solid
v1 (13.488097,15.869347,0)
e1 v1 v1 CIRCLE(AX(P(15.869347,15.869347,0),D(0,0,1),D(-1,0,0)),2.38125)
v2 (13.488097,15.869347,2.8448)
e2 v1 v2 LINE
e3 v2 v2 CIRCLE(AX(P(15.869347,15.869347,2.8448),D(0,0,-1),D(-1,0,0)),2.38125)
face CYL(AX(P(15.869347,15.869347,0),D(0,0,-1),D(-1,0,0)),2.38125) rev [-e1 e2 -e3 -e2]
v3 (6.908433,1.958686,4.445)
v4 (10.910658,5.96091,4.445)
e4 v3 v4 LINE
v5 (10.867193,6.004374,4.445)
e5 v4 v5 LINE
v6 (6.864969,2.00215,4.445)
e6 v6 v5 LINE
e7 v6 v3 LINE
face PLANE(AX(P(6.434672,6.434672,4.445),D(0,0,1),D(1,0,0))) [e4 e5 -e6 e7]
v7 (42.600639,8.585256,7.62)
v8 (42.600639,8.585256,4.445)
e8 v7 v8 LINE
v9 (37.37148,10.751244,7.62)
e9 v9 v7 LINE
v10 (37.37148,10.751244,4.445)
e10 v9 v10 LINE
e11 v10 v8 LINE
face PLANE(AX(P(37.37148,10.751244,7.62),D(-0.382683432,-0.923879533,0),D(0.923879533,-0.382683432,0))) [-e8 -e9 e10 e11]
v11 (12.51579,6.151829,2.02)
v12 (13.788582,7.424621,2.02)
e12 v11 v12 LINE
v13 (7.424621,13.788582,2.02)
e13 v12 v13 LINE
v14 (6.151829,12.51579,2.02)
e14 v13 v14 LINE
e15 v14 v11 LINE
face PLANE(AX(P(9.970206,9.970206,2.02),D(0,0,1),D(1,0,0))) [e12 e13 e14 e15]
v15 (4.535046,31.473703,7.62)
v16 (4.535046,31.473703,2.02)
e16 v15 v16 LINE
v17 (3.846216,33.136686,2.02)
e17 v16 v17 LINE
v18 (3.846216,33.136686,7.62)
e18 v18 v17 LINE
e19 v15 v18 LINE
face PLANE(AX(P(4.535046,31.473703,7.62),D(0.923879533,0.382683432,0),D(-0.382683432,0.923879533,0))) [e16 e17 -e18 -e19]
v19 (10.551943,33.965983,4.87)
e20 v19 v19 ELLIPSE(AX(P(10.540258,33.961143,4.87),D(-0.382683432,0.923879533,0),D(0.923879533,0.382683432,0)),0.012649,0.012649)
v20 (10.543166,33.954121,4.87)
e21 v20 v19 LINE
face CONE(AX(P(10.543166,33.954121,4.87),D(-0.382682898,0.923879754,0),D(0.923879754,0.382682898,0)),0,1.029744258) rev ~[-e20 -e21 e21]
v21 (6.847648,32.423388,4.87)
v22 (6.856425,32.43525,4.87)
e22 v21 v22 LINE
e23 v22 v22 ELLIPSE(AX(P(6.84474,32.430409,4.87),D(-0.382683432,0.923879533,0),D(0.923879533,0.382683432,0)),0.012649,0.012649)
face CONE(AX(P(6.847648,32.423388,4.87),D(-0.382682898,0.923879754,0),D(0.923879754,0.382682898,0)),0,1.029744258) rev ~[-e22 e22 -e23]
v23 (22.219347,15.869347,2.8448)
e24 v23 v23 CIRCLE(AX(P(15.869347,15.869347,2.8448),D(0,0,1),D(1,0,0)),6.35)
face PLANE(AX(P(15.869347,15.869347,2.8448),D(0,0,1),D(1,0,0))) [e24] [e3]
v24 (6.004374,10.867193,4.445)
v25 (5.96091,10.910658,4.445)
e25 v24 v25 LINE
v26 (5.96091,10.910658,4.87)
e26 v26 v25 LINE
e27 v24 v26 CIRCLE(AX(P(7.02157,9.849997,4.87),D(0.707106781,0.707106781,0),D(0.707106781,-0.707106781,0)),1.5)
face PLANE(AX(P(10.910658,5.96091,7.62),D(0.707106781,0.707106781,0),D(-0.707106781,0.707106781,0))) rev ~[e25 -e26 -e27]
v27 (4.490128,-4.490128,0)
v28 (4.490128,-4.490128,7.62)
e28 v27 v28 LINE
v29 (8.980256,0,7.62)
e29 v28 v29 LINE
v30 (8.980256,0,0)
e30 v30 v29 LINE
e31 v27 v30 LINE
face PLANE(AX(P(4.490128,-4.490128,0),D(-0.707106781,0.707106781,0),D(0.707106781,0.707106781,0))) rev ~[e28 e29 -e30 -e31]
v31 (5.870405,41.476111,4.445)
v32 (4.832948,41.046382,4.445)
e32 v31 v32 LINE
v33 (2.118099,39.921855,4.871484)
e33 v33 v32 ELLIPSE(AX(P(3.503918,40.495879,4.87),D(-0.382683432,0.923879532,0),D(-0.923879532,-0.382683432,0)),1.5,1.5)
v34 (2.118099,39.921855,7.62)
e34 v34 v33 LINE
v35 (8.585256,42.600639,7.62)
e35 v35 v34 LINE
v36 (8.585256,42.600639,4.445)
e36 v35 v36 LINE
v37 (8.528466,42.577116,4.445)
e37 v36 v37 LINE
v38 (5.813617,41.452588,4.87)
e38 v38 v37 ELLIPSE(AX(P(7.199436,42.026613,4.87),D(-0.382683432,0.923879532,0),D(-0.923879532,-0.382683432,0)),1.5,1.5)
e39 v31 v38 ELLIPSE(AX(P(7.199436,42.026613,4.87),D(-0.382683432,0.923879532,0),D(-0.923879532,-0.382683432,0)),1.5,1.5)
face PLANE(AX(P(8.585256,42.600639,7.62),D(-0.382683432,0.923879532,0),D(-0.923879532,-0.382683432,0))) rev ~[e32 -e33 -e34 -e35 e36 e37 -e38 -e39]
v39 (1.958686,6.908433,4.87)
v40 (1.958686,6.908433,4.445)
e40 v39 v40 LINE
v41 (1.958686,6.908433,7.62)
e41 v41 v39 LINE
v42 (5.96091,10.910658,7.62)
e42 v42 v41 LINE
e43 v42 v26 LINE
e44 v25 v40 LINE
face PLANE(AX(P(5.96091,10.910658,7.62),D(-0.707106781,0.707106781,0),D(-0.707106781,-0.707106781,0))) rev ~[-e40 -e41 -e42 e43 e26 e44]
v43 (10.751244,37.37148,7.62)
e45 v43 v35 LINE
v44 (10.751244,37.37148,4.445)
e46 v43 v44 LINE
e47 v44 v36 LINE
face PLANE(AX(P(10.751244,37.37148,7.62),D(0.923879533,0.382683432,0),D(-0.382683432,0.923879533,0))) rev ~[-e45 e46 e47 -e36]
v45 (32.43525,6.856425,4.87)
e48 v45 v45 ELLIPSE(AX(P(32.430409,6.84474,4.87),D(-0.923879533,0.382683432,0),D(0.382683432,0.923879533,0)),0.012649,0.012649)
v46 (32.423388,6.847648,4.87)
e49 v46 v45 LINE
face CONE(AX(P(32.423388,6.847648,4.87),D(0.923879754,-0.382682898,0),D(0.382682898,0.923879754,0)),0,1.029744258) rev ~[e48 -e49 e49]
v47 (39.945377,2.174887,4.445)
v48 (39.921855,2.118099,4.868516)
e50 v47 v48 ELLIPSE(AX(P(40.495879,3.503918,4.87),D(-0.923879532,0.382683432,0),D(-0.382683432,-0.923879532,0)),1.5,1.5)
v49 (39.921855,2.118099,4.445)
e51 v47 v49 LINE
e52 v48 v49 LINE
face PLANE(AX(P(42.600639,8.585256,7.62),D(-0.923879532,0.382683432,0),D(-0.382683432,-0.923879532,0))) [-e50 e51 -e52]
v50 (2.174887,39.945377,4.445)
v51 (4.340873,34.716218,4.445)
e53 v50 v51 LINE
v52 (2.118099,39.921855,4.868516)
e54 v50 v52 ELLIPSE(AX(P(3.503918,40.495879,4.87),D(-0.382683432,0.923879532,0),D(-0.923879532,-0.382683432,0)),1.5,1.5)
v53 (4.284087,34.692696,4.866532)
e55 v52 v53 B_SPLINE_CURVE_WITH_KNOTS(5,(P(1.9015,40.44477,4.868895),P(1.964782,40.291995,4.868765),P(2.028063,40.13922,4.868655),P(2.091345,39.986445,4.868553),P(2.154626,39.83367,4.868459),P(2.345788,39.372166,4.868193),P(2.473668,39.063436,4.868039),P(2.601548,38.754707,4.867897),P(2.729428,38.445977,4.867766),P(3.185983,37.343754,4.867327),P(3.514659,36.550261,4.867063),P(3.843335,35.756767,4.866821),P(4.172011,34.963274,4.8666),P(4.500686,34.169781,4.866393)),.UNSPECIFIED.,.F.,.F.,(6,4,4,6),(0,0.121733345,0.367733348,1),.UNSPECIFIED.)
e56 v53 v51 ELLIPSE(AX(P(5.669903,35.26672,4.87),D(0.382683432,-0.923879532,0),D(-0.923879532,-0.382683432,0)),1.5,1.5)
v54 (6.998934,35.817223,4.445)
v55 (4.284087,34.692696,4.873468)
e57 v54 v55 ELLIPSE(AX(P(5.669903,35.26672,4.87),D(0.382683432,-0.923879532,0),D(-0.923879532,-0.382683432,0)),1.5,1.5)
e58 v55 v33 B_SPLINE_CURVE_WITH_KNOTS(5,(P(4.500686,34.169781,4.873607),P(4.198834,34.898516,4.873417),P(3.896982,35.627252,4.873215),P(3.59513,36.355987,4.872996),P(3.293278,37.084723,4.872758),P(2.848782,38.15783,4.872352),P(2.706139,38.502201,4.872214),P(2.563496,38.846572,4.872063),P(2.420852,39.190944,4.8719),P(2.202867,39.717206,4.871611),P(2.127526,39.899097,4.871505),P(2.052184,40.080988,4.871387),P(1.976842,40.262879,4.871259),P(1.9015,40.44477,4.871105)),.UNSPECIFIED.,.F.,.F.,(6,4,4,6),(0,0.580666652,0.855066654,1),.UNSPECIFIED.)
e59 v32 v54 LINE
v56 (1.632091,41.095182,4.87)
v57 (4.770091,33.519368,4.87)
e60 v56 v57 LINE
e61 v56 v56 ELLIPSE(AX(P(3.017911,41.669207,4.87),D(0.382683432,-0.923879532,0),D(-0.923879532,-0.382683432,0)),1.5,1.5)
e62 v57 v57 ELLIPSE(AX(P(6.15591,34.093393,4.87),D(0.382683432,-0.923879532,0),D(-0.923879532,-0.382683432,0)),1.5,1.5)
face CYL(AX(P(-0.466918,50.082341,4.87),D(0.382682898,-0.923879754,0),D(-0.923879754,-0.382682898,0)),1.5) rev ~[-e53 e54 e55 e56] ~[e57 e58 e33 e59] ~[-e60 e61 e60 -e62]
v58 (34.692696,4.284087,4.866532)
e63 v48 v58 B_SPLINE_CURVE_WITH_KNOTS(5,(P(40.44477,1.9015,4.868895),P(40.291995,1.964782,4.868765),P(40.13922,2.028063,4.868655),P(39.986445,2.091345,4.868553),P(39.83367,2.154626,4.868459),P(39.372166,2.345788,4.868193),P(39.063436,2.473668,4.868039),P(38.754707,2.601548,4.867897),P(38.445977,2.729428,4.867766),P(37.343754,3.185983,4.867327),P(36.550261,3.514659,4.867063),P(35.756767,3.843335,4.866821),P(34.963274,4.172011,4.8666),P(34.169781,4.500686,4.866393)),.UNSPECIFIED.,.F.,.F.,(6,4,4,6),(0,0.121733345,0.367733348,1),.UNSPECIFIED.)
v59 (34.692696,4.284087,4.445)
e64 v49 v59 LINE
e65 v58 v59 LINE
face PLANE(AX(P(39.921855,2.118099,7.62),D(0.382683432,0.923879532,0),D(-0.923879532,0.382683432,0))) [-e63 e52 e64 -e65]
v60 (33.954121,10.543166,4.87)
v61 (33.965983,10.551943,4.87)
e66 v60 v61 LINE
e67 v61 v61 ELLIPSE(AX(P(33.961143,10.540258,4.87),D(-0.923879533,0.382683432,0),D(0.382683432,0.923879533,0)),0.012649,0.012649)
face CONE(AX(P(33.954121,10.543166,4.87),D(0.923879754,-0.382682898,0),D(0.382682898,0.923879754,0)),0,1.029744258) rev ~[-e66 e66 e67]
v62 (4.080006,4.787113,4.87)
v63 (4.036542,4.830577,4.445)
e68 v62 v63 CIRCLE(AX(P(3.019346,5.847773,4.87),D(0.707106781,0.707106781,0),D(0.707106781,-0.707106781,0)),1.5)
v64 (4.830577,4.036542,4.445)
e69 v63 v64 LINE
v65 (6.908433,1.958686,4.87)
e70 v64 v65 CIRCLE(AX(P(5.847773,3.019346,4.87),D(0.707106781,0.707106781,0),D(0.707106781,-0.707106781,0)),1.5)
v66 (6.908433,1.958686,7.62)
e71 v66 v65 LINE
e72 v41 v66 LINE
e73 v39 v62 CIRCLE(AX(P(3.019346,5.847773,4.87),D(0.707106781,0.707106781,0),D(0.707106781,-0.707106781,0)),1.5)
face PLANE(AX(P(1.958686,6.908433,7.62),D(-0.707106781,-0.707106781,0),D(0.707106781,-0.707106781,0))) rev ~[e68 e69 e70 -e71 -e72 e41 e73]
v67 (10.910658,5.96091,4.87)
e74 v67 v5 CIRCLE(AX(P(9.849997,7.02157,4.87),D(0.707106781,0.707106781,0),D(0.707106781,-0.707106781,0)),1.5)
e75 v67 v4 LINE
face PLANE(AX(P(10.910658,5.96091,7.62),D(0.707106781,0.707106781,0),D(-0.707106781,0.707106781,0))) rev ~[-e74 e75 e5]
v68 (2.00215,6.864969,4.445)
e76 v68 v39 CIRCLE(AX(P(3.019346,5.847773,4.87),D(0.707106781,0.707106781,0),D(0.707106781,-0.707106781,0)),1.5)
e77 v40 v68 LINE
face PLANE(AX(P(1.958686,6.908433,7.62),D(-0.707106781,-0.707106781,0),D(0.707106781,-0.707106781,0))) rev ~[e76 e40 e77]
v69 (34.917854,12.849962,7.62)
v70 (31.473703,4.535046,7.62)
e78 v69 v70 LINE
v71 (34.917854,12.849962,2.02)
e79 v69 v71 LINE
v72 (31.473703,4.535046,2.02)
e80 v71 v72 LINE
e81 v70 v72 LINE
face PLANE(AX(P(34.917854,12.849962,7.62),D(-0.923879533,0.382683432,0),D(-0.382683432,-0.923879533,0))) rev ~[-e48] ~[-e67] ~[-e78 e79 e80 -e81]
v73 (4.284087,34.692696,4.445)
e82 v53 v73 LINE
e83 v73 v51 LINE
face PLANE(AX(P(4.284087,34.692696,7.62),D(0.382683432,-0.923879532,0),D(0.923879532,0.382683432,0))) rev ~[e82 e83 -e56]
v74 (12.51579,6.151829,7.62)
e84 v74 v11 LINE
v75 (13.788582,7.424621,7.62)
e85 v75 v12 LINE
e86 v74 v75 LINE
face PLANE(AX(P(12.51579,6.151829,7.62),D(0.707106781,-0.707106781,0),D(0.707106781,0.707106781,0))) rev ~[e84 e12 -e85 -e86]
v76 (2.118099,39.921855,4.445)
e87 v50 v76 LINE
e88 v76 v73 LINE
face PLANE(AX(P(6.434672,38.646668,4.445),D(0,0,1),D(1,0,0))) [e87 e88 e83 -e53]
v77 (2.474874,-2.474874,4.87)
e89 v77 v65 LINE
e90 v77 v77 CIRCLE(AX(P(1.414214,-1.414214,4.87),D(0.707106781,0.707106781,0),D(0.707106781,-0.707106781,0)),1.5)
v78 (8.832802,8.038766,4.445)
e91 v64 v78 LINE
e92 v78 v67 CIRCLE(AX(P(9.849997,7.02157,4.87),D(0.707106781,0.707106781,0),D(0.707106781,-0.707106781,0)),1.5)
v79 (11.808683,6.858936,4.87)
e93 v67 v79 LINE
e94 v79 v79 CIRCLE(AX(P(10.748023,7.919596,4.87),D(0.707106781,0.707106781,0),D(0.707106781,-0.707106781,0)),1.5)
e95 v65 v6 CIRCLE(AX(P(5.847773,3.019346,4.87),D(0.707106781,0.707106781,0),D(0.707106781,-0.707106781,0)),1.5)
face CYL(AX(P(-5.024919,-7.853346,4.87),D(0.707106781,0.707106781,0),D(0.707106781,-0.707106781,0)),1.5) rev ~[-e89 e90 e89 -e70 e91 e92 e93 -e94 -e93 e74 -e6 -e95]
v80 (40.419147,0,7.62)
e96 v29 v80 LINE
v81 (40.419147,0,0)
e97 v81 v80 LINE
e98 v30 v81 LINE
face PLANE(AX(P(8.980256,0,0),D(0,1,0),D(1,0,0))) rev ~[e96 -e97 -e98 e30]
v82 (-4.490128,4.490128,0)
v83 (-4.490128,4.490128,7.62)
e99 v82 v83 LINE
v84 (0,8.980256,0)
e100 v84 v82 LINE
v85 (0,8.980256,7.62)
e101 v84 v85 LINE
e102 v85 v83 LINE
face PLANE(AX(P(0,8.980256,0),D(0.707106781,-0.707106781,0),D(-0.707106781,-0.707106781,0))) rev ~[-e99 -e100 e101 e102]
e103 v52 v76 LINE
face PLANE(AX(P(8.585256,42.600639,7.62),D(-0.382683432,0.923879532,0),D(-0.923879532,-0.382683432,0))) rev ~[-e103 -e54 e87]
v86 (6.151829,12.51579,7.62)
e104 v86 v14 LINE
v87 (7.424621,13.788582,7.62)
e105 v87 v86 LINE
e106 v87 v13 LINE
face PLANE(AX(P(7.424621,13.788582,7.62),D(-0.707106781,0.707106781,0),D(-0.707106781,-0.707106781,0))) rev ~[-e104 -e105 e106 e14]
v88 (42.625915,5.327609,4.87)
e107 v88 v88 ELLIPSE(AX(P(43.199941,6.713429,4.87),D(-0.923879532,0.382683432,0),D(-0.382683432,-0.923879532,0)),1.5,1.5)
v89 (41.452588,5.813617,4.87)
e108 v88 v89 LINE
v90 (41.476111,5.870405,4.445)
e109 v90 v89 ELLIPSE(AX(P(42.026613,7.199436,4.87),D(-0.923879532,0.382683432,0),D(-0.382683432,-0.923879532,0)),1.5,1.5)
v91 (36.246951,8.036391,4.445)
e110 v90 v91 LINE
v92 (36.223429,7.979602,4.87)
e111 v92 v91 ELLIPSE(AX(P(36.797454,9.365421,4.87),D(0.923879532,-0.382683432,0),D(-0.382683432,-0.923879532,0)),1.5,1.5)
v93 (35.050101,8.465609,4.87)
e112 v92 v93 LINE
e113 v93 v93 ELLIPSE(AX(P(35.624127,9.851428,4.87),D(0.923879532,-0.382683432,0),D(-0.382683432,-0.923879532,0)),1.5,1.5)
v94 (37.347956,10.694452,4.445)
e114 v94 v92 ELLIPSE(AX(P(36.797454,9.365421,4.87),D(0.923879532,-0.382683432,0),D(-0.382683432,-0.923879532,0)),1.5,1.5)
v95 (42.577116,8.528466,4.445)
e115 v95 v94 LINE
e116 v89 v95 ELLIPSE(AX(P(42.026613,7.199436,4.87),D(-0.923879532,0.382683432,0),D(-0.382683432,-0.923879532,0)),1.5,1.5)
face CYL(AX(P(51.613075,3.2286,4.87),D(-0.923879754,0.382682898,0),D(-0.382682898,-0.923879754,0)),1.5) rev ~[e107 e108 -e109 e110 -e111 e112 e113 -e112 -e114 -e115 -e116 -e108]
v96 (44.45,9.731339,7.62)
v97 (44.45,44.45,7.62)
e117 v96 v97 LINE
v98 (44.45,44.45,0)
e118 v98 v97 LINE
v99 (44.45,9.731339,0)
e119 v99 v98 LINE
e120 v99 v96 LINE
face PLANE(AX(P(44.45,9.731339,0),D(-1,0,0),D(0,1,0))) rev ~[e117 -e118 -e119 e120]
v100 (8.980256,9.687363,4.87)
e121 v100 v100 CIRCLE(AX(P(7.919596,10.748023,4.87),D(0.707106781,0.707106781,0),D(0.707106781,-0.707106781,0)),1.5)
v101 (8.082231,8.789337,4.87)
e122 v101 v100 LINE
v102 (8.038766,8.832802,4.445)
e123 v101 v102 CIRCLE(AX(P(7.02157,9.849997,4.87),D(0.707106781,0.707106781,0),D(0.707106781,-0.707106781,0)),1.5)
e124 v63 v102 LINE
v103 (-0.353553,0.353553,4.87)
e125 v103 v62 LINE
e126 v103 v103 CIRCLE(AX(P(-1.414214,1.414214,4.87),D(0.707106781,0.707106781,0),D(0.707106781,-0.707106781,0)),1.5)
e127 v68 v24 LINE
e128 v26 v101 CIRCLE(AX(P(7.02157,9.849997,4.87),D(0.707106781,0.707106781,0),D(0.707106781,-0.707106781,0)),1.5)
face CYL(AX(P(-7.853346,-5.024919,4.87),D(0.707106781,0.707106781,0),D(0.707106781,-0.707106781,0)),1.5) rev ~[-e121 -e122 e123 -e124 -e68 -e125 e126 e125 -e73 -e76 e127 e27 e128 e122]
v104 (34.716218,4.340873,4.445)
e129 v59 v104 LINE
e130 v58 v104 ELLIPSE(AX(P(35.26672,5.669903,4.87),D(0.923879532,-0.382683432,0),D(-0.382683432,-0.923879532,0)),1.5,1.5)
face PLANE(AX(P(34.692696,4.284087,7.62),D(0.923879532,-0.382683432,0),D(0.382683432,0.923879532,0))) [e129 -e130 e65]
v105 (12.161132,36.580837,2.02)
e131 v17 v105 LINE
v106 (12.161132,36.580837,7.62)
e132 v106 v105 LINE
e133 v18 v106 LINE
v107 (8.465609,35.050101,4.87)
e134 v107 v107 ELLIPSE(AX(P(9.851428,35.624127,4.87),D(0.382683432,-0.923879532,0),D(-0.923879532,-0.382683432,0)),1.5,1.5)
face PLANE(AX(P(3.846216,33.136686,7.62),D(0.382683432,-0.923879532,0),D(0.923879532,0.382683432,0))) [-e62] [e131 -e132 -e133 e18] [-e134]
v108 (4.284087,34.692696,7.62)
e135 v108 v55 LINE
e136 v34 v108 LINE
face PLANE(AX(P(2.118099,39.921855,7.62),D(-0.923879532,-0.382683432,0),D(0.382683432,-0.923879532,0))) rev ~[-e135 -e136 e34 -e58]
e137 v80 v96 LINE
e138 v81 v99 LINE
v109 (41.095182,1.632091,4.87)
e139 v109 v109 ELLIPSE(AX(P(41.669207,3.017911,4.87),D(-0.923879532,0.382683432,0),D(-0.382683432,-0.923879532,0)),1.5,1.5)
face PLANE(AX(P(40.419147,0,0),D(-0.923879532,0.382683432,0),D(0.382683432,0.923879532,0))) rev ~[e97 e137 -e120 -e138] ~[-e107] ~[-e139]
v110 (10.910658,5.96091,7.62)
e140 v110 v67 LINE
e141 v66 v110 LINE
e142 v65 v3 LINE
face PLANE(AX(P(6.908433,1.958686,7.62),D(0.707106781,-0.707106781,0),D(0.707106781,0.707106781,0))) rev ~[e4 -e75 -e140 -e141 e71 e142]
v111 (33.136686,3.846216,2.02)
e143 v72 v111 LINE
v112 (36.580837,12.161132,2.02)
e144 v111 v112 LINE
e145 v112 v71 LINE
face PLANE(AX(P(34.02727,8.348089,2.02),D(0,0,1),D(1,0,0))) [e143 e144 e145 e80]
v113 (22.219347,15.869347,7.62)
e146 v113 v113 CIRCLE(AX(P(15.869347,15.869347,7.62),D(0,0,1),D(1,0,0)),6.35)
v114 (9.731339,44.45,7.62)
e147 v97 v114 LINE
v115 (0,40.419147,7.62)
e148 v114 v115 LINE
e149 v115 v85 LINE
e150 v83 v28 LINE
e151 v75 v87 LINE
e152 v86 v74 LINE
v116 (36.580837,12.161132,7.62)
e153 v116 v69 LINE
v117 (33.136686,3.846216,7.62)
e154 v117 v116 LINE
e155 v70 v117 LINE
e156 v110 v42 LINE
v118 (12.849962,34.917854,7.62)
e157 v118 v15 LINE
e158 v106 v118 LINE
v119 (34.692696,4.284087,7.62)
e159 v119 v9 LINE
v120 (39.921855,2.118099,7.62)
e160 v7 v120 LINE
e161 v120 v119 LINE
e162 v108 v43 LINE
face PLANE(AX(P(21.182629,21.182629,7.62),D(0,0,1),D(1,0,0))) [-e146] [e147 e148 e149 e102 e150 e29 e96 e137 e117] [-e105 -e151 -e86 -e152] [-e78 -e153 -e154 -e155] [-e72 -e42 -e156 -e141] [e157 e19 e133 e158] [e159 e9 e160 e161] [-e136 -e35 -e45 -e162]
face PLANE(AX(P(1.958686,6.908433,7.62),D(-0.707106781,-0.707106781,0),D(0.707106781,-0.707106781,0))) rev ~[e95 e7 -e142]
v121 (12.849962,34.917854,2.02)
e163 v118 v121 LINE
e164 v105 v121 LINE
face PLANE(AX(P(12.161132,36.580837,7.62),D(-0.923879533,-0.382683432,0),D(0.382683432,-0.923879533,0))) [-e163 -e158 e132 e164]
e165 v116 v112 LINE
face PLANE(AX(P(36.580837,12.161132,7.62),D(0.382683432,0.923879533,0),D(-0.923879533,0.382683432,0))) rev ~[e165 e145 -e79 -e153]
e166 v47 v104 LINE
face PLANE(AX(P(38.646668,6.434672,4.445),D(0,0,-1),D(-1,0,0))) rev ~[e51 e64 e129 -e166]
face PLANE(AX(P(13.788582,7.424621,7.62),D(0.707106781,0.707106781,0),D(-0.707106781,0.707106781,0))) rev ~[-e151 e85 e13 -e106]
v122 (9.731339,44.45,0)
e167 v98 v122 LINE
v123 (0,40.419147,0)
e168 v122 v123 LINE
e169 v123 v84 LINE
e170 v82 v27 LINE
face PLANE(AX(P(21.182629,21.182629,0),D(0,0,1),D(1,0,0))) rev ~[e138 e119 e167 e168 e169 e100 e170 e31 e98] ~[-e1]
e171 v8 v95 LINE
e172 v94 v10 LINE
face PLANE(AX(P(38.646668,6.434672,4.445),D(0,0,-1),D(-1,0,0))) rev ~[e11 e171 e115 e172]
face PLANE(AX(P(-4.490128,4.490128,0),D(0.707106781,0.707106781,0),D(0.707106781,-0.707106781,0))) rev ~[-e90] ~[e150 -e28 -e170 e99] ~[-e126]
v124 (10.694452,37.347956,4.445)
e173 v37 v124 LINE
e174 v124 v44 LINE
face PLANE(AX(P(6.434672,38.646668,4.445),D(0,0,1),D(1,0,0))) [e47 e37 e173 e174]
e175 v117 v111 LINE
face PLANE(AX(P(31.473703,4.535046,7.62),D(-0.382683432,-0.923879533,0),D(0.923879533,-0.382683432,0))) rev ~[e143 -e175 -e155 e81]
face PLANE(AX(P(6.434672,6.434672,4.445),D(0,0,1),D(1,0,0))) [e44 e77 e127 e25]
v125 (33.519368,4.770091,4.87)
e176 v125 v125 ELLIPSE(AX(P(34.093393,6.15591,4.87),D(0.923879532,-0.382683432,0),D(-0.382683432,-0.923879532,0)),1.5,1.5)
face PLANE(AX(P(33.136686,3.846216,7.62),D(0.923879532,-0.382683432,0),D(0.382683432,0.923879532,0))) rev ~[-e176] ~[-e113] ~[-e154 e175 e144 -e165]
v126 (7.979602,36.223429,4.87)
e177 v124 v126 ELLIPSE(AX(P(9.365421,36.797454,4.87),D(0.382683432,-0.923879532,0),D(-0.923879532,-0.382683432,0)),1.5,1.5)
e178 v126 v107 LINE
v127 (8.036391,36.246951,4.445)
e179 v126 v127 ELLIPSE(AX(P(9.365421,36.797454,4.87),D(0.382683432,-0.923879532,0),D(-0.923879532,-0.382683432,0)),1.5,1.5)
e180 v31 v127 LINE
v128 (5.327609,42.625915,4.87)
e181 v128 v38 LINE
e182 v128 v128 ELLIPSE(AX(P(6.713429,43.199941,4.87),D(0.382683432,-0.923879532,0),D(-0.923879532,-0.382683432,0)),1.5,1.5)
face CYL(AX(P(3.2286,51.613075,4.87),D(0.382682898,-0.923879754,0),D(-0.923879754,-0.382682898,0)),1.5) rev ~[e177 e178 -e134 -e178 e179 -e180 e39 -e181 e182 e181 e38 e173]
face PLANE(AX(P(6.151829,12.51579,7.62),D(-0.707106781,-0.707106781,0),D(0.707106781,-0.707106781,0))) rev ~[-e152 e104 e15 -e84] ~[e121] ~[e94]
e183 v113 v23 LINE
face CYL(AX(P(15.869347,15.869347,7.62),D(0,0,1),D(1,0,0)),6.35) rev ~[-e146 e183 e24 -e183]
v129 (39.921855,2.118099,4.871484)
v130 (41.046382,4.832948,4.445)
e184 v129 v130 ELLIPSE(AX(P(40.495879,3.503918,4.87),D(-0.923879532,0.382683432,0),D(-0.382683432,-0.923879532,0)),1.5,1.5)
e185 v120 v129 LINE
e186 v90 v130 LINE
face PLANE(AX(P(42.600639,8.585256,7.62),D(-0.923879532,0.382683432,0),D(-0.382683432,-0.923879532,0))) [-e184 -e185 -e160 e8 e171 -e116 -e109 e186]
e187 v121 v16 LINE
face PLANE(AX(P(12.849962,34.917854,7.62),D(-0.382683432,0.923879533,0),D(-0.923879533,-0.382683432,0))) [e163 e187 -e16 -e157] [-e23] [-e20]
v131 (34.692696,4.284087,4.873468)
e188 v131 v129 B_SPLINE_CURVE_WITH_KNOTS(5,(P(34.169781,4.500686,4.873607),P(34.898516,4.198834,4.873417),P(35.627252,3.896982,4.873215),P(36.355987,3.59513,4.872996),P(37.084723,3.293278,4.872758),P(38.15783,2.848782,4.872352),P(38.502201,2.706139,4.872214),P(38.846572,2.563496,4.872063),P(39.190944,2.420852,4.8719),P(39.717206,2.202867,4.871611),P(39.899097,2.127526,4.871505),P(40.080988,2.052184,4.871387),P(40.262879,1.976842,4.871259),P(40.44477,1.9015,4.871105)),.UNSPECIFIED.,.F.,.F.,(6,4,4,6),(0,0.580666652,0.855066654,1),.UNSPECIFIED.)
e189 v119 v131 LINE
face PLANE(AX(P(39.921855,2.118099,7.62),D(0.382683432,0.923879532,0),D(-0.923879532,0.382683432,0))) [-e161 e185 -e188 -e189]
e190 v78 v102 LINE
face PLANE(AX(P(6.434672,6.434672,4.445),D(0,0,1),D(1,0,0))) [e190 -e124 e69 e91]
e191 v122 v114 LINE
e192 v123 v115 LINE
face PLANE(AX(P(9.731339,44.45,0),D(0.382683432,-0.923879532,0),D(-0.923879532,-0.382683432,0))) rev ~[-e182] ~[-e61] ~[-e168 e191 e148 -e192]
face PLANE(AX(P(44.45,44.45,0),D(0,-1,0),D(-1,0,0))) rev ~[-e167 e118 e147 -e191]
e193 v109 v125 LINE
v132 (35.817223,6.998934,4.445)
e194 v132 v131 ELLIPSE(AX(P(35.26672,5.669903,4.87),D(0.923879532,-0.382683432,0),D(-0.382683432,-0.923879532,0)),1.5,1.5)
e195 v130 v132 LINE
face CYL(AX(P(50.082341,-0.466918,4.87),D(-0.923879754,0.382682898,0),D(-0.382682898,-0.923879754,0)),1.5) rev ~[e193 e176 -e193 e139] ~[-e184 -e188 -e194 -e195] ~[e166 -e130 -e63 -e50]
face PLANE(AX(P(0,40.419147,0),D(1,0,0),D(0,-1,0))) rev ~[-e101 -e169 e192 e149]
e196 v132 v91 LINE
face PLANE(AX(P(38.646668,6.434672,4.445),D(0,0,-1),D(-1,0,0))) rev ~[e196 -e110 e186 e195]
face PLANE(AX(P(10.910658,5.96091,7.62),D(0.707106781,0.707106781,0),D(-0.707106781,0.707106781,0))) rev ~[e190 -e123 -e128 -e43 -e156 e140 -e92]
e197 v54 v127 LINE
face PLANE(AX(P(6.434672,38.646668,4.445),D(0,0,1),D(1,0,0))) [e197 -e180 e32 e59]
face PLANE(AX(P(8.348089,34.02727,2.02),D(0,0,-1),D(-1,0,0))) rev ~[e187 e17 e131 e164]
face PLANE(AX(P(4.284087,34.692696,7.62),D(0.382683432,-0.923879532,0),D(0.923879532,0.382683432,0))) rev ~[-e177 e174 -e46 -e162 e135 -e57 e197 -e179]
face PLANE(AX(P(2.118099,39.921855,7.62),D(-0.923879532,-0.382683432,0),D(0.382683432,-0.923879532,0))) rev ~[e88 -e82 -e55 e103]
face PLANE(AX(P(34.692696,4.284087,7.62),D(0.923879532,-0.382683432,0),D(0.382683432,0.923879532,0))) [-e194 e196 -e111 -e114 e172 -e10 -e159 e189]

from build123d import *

# Parameters (mm, degrees)
SKETCH1_R                           = 2.38125
BOSS_EXTRUDE1_DEPTH                 = 7.62
MAGNET_START                        = 7.62
SKETCH1_3_R                         = 6.35
MAGNET_HOLE_DEPTH                   = 4.7752
CUT_EXTRUDE2_START                  = 7.62
CUT_EXTRUDE2_DEPTH                  = 5.6
F_3_0MM_DOWEL_HOLE1_D               = 3
F_3_0MM_DOWEL_HOLE1_DEPTH           = 9.106309071
F_3_0MM_DOWEL_HOLE1_TIP             = 0.901290929
F_3_0MM_DOWEL_HOLE1_ON_FACE_2_D     = 3
F_3_0MM_DOWEL_HOLE1_ON_FACE_2_DEPTH = 9.106309071
F_3_0MM_DOWEL_HOLE1_ON_FACE_2_TIP   = 0.901290929
F_3_0MM_DOWEL_HOLE1_ON_FACE_3_D     = 3
F_3_0MM_DOWEL_HOLE1_ON_FACE_3_DEPTH = 9.106309071
F_3_0MM_DOWEL_HOLE1_ON_FACE_3_TIP   = 0.901290929
F_3_0MM_DOWEL_HOLE1_ON_FACE_4_D     = 3
F_3_0MM_DOWEL_HOLE1_ON_FACE_4_DEPTH = 9.106309071
F_3_0MM_DOWEL_HOLE1_ON_FACE_4_TIP   = 0.901290929
F_3_0MM_DOWEL_HOLE1_ON_FACE_5_D     = 3
F_3_0MM_DOWEL_HOLE1_ON_FACE_5_DEPTH = 9.106309071
F_3_0MM_DOWEL_HOLE1_ON_FACE_5_TIP   = 0.901290929
F_3_0MM_DOWEL_HOLE2_D               = 3
F_3_0MM_DOWEL_HOLE2_DEPTH           = 13.2
CUT_EXTRUDE3_START                  = 7.62
CUT_EXTRUDE3_DEPTH                  = 3.175


with BuildPart() as part:
    # Sketch1 → Boss-Extrude1 (new body)
    with BuildSketch(Plane.XY):
        Polygon((44.45, 44.45), (9.731339272, 44.45), (0, 40.419147293), (0, 8.980256121), (-4.490128061, 4.490128061), (4.490128061, -4.490128061), (8.980256121, 0), (40.419147293, 0), (44.45, 9.731339272), align=None)
        with Locations(Location((15.869346859, 15.869346859, 0), (0, 0, 180))):
            Circle(SKETCH1_R, mode=Mode.SUBTRACT)
    extrude(amount=BOSS_EXTRUDE1_DEPTH)

    # Sketch1<3> → Magnet Hole (cut)
    with BuildSketch(Plane.XY.offset(MAGNET_START)):
        with Locations((15.869346859, 15.869346859)):
            Circle(SKETCH1_3_R)
    extrude(amount=-MAGNET_HOLE_DEPTH, mode=Mode.SUBTRACT)

    # Sketch1<4> → Cut-Extrude2 (cut)
    with BuildSketch(Plane.XY.offset(CUT_EXTRUDE2_START)):
        Polygon((36.580836926, 12.161131678), (34.917853767, 12.849961856), (31.473702876, 4.535046063), (33.136686034, 3.846215885), align=None)
        Polygon((6.151828996, 12.515790027), (12.515790027, 6.151828996), (13.788582233, 7.424621202), (7.424621202, 13.788582233), align=None)
        Polygon((12.161131678, 36.580836926), (12.849961856, 34.917853767), (4.535046063, 31.473702876), (3.846215885, 33.136686034), align=None)
    extrude(amount=-CUT_EXTRUDE2_DEPTH, mode=Mode.SUBTRACT)

    # Ø3.0mm Dowel Hole1
    with Locations(Plane(origin=(-1.414213562, 1.414213562, 4.87), x_dir=(-0.707106781187, 0.707106781187, 0), z_dir=(-0.707106781187, -0.707106781187, 0))):
        with Locations((1e-09, 0), (-3.999999999, 0)):
            Hole(F_3_0MM_DOWEL_HOLE1_D / 2, depth=F_3_0MM_DOWEL_HOLE1_DEPTH)
            with Locations((0, 0, -(F_3_0MM_DOWEL_HOLE1_DEPTH + F_3_0MM_DOWEL_HOLE1_TIP / 2))):  # 118° drill point
                Cone(0, F_3_0MM_DOWEL_HOLE1_D / 2, F_3_0MM_DOWEL_HOLE1_TIP, mode=Mode.SUBTRACT)

    # Ø3.0mm Dowel Hole1 on face 2
    with Locations(Plane(origin=(43.199940511, 6.713428701, 4.87), x_dir=(0.382682898036, 0.923879753837, 0), z_dir=(0.923879753837, -0.382682898036, 0))):
        with Locations((0, 0)):
            Hole(F_3_0MM_DOWEL_HOLE1_ON_FACE_2_D / 2, depth=F_3_0MM_DOWEL_HOLE1_ON_FACE_2_DEPTH)
            with Locations((0, 0, -(F_3_0MM_DOWEL_HOLE1_ON_FACE_2_DEPTH + F_3_0MM_DOWEL_HOLE1_ON_FACE_2_TIP / 2))):  # 118° drill point
                Cone(0, F_3_0MM_DOWEL_HOLE1_ON_FACE_2_D / 2, F_3_0MM_DOWEL_HOLE1_ON_FACE_2_TIP, mode=Mode.SUBTRACT)

    # Ø3.0mm Dowel Hole1 on face 3
    with Locations(Plane(origin=(41.669206782, 3.017910571, 4.87), x_dir=(0.382682898036, 0.923879753837, 0), z_dir=(0.923879753837, -0.382682898036, 0))):
        with Locations((0, 0)):
            Hole(F_3_0MM_DOWEL_HOLE1_ON_FACE_3_D / 2, depth=F_3_0MM_DOWEL_HOLE1_ON_FACE_3_DEPTH)
            with Locations((0, 0, -(F_3_0MM_DOWEL_HOLE1_ON_FACE_3_DEPTH + F_3_0MM_DOWEL_HOLE1_ON_FACE_3_TIP / 2))):  # 118° drill point
                Cone(0, F_3_0MM_DOWEL_HOLE1_ON_FACE_3_D / 2, F_3_0MM_DOWEL_HOLE1_ON_FACE_3_TIP, mode=Mode.SUBTRACT)

    # Ø3.0mm Dowel Hole1 on face 4
    with Locations(Plane(origin=(3.017910571, 41.669206782, 4.87), x_dir=(0.923879753837, 0.382682898036, 0), z_dir=(-0.382682898036, 0.923879753837, 0))):
        with Locations((0, 0)):
            Hole(F_3_0MM_DOWEL_HOLE1_ON_FACE_4_D / 2, depth=F_3_0MM_DOWEL_HOLE1_ON_FACE_4_DEPTH)
            with Locations((0, 0, -(F_3_0MM_DOWEL_HOLE1_ON_FACE_4_DEPTH + F_3_0MM_DOWEL_HOLE1_ON_FACE_4_TIP / 2))):  # 118° drill point
                Cone(0, F_3_0MM_DOWEL_HOLE1_ON_FACE_4_D / 2, F_3_0MM_DOWEL_HOLE1_ON_FACE_4_TIP, mode=Mode.SUBTRACT)

    # Ø3.0mm Dowel Hole1 on face 5
    with Locations(Plane(origin=(6.713428701, 43.199940511, 4.87), x_dir=(0.923879753837, 0.382682898036, 0), z_dir=(-0.382682898036, 0.923879753837, 0))):
        with Locations((0, 0)):
            Hole(F_3_0MM_DOWEL_HOLE1_ON_FACE_5_D / 2, depth=F_3_0MM_DOWEL_HOLE1_ON_FACE_5_DEPTH)
            with Locations((0, 0, -(F_3_0MM_DOWEL_HOLE1_ON_FACE_5_DEPTH + F_3_0MM_DOWEL_HOLE1_ON_FACE_5_TIP / 2))):  # 118° drill point
                Cone(0, F_3_0MM_DOWEL_HOLE1_ON_FACE_5_D / 2, F_3_0MM_DOWEL_HOLE1_ON_FACE_5_TIP, mode=Mode.SUBTRACT)

    # Ø3.0mm Dowel Hole2
    with Locations(Plane(origin=(0, 0, 0), x_dir=(-0.7071067811865495, 0.7071067811865457, 0), z_dir=(-0.7071067811865457, -0.7071067811865495, 0))):
        with Locations((-2, -4.87), (2, -4.87)):
            Hole(F_3_0MM_DOWEL_HOLE2_D / 2, depth=F_3_0MM_DOWEL_HOLE2_DEPTH)

    # Sketch1<5> → Cut-Extrude3 (cut)
    with BuildSketch(Plane.XY.offset(CUT_EXTRUDE3_START)):
        Polygon((5.960910165, 10.910657634), (1.958685784, 6.908433252), (6.908433252, 1.958685784), (10.910657634, 5.960910165), align=None)
        Polygon((2.118099231, 39.921854627), (4.284087459, 34.692696473), (10.751244186, 37.3714805), (8.585255959, 42.600638654), align=None)
        Polygon((37.3714805, 10.751244186), (42.600638654, 8.585255959), (39.921854627, 2.118099231), (34.692696473, 4.284087459), align=None)
    extrude(amount=-CUT_EXTRUDE3_DEPTH, mode=Mode.SUBTRACT)


solid = part.part
